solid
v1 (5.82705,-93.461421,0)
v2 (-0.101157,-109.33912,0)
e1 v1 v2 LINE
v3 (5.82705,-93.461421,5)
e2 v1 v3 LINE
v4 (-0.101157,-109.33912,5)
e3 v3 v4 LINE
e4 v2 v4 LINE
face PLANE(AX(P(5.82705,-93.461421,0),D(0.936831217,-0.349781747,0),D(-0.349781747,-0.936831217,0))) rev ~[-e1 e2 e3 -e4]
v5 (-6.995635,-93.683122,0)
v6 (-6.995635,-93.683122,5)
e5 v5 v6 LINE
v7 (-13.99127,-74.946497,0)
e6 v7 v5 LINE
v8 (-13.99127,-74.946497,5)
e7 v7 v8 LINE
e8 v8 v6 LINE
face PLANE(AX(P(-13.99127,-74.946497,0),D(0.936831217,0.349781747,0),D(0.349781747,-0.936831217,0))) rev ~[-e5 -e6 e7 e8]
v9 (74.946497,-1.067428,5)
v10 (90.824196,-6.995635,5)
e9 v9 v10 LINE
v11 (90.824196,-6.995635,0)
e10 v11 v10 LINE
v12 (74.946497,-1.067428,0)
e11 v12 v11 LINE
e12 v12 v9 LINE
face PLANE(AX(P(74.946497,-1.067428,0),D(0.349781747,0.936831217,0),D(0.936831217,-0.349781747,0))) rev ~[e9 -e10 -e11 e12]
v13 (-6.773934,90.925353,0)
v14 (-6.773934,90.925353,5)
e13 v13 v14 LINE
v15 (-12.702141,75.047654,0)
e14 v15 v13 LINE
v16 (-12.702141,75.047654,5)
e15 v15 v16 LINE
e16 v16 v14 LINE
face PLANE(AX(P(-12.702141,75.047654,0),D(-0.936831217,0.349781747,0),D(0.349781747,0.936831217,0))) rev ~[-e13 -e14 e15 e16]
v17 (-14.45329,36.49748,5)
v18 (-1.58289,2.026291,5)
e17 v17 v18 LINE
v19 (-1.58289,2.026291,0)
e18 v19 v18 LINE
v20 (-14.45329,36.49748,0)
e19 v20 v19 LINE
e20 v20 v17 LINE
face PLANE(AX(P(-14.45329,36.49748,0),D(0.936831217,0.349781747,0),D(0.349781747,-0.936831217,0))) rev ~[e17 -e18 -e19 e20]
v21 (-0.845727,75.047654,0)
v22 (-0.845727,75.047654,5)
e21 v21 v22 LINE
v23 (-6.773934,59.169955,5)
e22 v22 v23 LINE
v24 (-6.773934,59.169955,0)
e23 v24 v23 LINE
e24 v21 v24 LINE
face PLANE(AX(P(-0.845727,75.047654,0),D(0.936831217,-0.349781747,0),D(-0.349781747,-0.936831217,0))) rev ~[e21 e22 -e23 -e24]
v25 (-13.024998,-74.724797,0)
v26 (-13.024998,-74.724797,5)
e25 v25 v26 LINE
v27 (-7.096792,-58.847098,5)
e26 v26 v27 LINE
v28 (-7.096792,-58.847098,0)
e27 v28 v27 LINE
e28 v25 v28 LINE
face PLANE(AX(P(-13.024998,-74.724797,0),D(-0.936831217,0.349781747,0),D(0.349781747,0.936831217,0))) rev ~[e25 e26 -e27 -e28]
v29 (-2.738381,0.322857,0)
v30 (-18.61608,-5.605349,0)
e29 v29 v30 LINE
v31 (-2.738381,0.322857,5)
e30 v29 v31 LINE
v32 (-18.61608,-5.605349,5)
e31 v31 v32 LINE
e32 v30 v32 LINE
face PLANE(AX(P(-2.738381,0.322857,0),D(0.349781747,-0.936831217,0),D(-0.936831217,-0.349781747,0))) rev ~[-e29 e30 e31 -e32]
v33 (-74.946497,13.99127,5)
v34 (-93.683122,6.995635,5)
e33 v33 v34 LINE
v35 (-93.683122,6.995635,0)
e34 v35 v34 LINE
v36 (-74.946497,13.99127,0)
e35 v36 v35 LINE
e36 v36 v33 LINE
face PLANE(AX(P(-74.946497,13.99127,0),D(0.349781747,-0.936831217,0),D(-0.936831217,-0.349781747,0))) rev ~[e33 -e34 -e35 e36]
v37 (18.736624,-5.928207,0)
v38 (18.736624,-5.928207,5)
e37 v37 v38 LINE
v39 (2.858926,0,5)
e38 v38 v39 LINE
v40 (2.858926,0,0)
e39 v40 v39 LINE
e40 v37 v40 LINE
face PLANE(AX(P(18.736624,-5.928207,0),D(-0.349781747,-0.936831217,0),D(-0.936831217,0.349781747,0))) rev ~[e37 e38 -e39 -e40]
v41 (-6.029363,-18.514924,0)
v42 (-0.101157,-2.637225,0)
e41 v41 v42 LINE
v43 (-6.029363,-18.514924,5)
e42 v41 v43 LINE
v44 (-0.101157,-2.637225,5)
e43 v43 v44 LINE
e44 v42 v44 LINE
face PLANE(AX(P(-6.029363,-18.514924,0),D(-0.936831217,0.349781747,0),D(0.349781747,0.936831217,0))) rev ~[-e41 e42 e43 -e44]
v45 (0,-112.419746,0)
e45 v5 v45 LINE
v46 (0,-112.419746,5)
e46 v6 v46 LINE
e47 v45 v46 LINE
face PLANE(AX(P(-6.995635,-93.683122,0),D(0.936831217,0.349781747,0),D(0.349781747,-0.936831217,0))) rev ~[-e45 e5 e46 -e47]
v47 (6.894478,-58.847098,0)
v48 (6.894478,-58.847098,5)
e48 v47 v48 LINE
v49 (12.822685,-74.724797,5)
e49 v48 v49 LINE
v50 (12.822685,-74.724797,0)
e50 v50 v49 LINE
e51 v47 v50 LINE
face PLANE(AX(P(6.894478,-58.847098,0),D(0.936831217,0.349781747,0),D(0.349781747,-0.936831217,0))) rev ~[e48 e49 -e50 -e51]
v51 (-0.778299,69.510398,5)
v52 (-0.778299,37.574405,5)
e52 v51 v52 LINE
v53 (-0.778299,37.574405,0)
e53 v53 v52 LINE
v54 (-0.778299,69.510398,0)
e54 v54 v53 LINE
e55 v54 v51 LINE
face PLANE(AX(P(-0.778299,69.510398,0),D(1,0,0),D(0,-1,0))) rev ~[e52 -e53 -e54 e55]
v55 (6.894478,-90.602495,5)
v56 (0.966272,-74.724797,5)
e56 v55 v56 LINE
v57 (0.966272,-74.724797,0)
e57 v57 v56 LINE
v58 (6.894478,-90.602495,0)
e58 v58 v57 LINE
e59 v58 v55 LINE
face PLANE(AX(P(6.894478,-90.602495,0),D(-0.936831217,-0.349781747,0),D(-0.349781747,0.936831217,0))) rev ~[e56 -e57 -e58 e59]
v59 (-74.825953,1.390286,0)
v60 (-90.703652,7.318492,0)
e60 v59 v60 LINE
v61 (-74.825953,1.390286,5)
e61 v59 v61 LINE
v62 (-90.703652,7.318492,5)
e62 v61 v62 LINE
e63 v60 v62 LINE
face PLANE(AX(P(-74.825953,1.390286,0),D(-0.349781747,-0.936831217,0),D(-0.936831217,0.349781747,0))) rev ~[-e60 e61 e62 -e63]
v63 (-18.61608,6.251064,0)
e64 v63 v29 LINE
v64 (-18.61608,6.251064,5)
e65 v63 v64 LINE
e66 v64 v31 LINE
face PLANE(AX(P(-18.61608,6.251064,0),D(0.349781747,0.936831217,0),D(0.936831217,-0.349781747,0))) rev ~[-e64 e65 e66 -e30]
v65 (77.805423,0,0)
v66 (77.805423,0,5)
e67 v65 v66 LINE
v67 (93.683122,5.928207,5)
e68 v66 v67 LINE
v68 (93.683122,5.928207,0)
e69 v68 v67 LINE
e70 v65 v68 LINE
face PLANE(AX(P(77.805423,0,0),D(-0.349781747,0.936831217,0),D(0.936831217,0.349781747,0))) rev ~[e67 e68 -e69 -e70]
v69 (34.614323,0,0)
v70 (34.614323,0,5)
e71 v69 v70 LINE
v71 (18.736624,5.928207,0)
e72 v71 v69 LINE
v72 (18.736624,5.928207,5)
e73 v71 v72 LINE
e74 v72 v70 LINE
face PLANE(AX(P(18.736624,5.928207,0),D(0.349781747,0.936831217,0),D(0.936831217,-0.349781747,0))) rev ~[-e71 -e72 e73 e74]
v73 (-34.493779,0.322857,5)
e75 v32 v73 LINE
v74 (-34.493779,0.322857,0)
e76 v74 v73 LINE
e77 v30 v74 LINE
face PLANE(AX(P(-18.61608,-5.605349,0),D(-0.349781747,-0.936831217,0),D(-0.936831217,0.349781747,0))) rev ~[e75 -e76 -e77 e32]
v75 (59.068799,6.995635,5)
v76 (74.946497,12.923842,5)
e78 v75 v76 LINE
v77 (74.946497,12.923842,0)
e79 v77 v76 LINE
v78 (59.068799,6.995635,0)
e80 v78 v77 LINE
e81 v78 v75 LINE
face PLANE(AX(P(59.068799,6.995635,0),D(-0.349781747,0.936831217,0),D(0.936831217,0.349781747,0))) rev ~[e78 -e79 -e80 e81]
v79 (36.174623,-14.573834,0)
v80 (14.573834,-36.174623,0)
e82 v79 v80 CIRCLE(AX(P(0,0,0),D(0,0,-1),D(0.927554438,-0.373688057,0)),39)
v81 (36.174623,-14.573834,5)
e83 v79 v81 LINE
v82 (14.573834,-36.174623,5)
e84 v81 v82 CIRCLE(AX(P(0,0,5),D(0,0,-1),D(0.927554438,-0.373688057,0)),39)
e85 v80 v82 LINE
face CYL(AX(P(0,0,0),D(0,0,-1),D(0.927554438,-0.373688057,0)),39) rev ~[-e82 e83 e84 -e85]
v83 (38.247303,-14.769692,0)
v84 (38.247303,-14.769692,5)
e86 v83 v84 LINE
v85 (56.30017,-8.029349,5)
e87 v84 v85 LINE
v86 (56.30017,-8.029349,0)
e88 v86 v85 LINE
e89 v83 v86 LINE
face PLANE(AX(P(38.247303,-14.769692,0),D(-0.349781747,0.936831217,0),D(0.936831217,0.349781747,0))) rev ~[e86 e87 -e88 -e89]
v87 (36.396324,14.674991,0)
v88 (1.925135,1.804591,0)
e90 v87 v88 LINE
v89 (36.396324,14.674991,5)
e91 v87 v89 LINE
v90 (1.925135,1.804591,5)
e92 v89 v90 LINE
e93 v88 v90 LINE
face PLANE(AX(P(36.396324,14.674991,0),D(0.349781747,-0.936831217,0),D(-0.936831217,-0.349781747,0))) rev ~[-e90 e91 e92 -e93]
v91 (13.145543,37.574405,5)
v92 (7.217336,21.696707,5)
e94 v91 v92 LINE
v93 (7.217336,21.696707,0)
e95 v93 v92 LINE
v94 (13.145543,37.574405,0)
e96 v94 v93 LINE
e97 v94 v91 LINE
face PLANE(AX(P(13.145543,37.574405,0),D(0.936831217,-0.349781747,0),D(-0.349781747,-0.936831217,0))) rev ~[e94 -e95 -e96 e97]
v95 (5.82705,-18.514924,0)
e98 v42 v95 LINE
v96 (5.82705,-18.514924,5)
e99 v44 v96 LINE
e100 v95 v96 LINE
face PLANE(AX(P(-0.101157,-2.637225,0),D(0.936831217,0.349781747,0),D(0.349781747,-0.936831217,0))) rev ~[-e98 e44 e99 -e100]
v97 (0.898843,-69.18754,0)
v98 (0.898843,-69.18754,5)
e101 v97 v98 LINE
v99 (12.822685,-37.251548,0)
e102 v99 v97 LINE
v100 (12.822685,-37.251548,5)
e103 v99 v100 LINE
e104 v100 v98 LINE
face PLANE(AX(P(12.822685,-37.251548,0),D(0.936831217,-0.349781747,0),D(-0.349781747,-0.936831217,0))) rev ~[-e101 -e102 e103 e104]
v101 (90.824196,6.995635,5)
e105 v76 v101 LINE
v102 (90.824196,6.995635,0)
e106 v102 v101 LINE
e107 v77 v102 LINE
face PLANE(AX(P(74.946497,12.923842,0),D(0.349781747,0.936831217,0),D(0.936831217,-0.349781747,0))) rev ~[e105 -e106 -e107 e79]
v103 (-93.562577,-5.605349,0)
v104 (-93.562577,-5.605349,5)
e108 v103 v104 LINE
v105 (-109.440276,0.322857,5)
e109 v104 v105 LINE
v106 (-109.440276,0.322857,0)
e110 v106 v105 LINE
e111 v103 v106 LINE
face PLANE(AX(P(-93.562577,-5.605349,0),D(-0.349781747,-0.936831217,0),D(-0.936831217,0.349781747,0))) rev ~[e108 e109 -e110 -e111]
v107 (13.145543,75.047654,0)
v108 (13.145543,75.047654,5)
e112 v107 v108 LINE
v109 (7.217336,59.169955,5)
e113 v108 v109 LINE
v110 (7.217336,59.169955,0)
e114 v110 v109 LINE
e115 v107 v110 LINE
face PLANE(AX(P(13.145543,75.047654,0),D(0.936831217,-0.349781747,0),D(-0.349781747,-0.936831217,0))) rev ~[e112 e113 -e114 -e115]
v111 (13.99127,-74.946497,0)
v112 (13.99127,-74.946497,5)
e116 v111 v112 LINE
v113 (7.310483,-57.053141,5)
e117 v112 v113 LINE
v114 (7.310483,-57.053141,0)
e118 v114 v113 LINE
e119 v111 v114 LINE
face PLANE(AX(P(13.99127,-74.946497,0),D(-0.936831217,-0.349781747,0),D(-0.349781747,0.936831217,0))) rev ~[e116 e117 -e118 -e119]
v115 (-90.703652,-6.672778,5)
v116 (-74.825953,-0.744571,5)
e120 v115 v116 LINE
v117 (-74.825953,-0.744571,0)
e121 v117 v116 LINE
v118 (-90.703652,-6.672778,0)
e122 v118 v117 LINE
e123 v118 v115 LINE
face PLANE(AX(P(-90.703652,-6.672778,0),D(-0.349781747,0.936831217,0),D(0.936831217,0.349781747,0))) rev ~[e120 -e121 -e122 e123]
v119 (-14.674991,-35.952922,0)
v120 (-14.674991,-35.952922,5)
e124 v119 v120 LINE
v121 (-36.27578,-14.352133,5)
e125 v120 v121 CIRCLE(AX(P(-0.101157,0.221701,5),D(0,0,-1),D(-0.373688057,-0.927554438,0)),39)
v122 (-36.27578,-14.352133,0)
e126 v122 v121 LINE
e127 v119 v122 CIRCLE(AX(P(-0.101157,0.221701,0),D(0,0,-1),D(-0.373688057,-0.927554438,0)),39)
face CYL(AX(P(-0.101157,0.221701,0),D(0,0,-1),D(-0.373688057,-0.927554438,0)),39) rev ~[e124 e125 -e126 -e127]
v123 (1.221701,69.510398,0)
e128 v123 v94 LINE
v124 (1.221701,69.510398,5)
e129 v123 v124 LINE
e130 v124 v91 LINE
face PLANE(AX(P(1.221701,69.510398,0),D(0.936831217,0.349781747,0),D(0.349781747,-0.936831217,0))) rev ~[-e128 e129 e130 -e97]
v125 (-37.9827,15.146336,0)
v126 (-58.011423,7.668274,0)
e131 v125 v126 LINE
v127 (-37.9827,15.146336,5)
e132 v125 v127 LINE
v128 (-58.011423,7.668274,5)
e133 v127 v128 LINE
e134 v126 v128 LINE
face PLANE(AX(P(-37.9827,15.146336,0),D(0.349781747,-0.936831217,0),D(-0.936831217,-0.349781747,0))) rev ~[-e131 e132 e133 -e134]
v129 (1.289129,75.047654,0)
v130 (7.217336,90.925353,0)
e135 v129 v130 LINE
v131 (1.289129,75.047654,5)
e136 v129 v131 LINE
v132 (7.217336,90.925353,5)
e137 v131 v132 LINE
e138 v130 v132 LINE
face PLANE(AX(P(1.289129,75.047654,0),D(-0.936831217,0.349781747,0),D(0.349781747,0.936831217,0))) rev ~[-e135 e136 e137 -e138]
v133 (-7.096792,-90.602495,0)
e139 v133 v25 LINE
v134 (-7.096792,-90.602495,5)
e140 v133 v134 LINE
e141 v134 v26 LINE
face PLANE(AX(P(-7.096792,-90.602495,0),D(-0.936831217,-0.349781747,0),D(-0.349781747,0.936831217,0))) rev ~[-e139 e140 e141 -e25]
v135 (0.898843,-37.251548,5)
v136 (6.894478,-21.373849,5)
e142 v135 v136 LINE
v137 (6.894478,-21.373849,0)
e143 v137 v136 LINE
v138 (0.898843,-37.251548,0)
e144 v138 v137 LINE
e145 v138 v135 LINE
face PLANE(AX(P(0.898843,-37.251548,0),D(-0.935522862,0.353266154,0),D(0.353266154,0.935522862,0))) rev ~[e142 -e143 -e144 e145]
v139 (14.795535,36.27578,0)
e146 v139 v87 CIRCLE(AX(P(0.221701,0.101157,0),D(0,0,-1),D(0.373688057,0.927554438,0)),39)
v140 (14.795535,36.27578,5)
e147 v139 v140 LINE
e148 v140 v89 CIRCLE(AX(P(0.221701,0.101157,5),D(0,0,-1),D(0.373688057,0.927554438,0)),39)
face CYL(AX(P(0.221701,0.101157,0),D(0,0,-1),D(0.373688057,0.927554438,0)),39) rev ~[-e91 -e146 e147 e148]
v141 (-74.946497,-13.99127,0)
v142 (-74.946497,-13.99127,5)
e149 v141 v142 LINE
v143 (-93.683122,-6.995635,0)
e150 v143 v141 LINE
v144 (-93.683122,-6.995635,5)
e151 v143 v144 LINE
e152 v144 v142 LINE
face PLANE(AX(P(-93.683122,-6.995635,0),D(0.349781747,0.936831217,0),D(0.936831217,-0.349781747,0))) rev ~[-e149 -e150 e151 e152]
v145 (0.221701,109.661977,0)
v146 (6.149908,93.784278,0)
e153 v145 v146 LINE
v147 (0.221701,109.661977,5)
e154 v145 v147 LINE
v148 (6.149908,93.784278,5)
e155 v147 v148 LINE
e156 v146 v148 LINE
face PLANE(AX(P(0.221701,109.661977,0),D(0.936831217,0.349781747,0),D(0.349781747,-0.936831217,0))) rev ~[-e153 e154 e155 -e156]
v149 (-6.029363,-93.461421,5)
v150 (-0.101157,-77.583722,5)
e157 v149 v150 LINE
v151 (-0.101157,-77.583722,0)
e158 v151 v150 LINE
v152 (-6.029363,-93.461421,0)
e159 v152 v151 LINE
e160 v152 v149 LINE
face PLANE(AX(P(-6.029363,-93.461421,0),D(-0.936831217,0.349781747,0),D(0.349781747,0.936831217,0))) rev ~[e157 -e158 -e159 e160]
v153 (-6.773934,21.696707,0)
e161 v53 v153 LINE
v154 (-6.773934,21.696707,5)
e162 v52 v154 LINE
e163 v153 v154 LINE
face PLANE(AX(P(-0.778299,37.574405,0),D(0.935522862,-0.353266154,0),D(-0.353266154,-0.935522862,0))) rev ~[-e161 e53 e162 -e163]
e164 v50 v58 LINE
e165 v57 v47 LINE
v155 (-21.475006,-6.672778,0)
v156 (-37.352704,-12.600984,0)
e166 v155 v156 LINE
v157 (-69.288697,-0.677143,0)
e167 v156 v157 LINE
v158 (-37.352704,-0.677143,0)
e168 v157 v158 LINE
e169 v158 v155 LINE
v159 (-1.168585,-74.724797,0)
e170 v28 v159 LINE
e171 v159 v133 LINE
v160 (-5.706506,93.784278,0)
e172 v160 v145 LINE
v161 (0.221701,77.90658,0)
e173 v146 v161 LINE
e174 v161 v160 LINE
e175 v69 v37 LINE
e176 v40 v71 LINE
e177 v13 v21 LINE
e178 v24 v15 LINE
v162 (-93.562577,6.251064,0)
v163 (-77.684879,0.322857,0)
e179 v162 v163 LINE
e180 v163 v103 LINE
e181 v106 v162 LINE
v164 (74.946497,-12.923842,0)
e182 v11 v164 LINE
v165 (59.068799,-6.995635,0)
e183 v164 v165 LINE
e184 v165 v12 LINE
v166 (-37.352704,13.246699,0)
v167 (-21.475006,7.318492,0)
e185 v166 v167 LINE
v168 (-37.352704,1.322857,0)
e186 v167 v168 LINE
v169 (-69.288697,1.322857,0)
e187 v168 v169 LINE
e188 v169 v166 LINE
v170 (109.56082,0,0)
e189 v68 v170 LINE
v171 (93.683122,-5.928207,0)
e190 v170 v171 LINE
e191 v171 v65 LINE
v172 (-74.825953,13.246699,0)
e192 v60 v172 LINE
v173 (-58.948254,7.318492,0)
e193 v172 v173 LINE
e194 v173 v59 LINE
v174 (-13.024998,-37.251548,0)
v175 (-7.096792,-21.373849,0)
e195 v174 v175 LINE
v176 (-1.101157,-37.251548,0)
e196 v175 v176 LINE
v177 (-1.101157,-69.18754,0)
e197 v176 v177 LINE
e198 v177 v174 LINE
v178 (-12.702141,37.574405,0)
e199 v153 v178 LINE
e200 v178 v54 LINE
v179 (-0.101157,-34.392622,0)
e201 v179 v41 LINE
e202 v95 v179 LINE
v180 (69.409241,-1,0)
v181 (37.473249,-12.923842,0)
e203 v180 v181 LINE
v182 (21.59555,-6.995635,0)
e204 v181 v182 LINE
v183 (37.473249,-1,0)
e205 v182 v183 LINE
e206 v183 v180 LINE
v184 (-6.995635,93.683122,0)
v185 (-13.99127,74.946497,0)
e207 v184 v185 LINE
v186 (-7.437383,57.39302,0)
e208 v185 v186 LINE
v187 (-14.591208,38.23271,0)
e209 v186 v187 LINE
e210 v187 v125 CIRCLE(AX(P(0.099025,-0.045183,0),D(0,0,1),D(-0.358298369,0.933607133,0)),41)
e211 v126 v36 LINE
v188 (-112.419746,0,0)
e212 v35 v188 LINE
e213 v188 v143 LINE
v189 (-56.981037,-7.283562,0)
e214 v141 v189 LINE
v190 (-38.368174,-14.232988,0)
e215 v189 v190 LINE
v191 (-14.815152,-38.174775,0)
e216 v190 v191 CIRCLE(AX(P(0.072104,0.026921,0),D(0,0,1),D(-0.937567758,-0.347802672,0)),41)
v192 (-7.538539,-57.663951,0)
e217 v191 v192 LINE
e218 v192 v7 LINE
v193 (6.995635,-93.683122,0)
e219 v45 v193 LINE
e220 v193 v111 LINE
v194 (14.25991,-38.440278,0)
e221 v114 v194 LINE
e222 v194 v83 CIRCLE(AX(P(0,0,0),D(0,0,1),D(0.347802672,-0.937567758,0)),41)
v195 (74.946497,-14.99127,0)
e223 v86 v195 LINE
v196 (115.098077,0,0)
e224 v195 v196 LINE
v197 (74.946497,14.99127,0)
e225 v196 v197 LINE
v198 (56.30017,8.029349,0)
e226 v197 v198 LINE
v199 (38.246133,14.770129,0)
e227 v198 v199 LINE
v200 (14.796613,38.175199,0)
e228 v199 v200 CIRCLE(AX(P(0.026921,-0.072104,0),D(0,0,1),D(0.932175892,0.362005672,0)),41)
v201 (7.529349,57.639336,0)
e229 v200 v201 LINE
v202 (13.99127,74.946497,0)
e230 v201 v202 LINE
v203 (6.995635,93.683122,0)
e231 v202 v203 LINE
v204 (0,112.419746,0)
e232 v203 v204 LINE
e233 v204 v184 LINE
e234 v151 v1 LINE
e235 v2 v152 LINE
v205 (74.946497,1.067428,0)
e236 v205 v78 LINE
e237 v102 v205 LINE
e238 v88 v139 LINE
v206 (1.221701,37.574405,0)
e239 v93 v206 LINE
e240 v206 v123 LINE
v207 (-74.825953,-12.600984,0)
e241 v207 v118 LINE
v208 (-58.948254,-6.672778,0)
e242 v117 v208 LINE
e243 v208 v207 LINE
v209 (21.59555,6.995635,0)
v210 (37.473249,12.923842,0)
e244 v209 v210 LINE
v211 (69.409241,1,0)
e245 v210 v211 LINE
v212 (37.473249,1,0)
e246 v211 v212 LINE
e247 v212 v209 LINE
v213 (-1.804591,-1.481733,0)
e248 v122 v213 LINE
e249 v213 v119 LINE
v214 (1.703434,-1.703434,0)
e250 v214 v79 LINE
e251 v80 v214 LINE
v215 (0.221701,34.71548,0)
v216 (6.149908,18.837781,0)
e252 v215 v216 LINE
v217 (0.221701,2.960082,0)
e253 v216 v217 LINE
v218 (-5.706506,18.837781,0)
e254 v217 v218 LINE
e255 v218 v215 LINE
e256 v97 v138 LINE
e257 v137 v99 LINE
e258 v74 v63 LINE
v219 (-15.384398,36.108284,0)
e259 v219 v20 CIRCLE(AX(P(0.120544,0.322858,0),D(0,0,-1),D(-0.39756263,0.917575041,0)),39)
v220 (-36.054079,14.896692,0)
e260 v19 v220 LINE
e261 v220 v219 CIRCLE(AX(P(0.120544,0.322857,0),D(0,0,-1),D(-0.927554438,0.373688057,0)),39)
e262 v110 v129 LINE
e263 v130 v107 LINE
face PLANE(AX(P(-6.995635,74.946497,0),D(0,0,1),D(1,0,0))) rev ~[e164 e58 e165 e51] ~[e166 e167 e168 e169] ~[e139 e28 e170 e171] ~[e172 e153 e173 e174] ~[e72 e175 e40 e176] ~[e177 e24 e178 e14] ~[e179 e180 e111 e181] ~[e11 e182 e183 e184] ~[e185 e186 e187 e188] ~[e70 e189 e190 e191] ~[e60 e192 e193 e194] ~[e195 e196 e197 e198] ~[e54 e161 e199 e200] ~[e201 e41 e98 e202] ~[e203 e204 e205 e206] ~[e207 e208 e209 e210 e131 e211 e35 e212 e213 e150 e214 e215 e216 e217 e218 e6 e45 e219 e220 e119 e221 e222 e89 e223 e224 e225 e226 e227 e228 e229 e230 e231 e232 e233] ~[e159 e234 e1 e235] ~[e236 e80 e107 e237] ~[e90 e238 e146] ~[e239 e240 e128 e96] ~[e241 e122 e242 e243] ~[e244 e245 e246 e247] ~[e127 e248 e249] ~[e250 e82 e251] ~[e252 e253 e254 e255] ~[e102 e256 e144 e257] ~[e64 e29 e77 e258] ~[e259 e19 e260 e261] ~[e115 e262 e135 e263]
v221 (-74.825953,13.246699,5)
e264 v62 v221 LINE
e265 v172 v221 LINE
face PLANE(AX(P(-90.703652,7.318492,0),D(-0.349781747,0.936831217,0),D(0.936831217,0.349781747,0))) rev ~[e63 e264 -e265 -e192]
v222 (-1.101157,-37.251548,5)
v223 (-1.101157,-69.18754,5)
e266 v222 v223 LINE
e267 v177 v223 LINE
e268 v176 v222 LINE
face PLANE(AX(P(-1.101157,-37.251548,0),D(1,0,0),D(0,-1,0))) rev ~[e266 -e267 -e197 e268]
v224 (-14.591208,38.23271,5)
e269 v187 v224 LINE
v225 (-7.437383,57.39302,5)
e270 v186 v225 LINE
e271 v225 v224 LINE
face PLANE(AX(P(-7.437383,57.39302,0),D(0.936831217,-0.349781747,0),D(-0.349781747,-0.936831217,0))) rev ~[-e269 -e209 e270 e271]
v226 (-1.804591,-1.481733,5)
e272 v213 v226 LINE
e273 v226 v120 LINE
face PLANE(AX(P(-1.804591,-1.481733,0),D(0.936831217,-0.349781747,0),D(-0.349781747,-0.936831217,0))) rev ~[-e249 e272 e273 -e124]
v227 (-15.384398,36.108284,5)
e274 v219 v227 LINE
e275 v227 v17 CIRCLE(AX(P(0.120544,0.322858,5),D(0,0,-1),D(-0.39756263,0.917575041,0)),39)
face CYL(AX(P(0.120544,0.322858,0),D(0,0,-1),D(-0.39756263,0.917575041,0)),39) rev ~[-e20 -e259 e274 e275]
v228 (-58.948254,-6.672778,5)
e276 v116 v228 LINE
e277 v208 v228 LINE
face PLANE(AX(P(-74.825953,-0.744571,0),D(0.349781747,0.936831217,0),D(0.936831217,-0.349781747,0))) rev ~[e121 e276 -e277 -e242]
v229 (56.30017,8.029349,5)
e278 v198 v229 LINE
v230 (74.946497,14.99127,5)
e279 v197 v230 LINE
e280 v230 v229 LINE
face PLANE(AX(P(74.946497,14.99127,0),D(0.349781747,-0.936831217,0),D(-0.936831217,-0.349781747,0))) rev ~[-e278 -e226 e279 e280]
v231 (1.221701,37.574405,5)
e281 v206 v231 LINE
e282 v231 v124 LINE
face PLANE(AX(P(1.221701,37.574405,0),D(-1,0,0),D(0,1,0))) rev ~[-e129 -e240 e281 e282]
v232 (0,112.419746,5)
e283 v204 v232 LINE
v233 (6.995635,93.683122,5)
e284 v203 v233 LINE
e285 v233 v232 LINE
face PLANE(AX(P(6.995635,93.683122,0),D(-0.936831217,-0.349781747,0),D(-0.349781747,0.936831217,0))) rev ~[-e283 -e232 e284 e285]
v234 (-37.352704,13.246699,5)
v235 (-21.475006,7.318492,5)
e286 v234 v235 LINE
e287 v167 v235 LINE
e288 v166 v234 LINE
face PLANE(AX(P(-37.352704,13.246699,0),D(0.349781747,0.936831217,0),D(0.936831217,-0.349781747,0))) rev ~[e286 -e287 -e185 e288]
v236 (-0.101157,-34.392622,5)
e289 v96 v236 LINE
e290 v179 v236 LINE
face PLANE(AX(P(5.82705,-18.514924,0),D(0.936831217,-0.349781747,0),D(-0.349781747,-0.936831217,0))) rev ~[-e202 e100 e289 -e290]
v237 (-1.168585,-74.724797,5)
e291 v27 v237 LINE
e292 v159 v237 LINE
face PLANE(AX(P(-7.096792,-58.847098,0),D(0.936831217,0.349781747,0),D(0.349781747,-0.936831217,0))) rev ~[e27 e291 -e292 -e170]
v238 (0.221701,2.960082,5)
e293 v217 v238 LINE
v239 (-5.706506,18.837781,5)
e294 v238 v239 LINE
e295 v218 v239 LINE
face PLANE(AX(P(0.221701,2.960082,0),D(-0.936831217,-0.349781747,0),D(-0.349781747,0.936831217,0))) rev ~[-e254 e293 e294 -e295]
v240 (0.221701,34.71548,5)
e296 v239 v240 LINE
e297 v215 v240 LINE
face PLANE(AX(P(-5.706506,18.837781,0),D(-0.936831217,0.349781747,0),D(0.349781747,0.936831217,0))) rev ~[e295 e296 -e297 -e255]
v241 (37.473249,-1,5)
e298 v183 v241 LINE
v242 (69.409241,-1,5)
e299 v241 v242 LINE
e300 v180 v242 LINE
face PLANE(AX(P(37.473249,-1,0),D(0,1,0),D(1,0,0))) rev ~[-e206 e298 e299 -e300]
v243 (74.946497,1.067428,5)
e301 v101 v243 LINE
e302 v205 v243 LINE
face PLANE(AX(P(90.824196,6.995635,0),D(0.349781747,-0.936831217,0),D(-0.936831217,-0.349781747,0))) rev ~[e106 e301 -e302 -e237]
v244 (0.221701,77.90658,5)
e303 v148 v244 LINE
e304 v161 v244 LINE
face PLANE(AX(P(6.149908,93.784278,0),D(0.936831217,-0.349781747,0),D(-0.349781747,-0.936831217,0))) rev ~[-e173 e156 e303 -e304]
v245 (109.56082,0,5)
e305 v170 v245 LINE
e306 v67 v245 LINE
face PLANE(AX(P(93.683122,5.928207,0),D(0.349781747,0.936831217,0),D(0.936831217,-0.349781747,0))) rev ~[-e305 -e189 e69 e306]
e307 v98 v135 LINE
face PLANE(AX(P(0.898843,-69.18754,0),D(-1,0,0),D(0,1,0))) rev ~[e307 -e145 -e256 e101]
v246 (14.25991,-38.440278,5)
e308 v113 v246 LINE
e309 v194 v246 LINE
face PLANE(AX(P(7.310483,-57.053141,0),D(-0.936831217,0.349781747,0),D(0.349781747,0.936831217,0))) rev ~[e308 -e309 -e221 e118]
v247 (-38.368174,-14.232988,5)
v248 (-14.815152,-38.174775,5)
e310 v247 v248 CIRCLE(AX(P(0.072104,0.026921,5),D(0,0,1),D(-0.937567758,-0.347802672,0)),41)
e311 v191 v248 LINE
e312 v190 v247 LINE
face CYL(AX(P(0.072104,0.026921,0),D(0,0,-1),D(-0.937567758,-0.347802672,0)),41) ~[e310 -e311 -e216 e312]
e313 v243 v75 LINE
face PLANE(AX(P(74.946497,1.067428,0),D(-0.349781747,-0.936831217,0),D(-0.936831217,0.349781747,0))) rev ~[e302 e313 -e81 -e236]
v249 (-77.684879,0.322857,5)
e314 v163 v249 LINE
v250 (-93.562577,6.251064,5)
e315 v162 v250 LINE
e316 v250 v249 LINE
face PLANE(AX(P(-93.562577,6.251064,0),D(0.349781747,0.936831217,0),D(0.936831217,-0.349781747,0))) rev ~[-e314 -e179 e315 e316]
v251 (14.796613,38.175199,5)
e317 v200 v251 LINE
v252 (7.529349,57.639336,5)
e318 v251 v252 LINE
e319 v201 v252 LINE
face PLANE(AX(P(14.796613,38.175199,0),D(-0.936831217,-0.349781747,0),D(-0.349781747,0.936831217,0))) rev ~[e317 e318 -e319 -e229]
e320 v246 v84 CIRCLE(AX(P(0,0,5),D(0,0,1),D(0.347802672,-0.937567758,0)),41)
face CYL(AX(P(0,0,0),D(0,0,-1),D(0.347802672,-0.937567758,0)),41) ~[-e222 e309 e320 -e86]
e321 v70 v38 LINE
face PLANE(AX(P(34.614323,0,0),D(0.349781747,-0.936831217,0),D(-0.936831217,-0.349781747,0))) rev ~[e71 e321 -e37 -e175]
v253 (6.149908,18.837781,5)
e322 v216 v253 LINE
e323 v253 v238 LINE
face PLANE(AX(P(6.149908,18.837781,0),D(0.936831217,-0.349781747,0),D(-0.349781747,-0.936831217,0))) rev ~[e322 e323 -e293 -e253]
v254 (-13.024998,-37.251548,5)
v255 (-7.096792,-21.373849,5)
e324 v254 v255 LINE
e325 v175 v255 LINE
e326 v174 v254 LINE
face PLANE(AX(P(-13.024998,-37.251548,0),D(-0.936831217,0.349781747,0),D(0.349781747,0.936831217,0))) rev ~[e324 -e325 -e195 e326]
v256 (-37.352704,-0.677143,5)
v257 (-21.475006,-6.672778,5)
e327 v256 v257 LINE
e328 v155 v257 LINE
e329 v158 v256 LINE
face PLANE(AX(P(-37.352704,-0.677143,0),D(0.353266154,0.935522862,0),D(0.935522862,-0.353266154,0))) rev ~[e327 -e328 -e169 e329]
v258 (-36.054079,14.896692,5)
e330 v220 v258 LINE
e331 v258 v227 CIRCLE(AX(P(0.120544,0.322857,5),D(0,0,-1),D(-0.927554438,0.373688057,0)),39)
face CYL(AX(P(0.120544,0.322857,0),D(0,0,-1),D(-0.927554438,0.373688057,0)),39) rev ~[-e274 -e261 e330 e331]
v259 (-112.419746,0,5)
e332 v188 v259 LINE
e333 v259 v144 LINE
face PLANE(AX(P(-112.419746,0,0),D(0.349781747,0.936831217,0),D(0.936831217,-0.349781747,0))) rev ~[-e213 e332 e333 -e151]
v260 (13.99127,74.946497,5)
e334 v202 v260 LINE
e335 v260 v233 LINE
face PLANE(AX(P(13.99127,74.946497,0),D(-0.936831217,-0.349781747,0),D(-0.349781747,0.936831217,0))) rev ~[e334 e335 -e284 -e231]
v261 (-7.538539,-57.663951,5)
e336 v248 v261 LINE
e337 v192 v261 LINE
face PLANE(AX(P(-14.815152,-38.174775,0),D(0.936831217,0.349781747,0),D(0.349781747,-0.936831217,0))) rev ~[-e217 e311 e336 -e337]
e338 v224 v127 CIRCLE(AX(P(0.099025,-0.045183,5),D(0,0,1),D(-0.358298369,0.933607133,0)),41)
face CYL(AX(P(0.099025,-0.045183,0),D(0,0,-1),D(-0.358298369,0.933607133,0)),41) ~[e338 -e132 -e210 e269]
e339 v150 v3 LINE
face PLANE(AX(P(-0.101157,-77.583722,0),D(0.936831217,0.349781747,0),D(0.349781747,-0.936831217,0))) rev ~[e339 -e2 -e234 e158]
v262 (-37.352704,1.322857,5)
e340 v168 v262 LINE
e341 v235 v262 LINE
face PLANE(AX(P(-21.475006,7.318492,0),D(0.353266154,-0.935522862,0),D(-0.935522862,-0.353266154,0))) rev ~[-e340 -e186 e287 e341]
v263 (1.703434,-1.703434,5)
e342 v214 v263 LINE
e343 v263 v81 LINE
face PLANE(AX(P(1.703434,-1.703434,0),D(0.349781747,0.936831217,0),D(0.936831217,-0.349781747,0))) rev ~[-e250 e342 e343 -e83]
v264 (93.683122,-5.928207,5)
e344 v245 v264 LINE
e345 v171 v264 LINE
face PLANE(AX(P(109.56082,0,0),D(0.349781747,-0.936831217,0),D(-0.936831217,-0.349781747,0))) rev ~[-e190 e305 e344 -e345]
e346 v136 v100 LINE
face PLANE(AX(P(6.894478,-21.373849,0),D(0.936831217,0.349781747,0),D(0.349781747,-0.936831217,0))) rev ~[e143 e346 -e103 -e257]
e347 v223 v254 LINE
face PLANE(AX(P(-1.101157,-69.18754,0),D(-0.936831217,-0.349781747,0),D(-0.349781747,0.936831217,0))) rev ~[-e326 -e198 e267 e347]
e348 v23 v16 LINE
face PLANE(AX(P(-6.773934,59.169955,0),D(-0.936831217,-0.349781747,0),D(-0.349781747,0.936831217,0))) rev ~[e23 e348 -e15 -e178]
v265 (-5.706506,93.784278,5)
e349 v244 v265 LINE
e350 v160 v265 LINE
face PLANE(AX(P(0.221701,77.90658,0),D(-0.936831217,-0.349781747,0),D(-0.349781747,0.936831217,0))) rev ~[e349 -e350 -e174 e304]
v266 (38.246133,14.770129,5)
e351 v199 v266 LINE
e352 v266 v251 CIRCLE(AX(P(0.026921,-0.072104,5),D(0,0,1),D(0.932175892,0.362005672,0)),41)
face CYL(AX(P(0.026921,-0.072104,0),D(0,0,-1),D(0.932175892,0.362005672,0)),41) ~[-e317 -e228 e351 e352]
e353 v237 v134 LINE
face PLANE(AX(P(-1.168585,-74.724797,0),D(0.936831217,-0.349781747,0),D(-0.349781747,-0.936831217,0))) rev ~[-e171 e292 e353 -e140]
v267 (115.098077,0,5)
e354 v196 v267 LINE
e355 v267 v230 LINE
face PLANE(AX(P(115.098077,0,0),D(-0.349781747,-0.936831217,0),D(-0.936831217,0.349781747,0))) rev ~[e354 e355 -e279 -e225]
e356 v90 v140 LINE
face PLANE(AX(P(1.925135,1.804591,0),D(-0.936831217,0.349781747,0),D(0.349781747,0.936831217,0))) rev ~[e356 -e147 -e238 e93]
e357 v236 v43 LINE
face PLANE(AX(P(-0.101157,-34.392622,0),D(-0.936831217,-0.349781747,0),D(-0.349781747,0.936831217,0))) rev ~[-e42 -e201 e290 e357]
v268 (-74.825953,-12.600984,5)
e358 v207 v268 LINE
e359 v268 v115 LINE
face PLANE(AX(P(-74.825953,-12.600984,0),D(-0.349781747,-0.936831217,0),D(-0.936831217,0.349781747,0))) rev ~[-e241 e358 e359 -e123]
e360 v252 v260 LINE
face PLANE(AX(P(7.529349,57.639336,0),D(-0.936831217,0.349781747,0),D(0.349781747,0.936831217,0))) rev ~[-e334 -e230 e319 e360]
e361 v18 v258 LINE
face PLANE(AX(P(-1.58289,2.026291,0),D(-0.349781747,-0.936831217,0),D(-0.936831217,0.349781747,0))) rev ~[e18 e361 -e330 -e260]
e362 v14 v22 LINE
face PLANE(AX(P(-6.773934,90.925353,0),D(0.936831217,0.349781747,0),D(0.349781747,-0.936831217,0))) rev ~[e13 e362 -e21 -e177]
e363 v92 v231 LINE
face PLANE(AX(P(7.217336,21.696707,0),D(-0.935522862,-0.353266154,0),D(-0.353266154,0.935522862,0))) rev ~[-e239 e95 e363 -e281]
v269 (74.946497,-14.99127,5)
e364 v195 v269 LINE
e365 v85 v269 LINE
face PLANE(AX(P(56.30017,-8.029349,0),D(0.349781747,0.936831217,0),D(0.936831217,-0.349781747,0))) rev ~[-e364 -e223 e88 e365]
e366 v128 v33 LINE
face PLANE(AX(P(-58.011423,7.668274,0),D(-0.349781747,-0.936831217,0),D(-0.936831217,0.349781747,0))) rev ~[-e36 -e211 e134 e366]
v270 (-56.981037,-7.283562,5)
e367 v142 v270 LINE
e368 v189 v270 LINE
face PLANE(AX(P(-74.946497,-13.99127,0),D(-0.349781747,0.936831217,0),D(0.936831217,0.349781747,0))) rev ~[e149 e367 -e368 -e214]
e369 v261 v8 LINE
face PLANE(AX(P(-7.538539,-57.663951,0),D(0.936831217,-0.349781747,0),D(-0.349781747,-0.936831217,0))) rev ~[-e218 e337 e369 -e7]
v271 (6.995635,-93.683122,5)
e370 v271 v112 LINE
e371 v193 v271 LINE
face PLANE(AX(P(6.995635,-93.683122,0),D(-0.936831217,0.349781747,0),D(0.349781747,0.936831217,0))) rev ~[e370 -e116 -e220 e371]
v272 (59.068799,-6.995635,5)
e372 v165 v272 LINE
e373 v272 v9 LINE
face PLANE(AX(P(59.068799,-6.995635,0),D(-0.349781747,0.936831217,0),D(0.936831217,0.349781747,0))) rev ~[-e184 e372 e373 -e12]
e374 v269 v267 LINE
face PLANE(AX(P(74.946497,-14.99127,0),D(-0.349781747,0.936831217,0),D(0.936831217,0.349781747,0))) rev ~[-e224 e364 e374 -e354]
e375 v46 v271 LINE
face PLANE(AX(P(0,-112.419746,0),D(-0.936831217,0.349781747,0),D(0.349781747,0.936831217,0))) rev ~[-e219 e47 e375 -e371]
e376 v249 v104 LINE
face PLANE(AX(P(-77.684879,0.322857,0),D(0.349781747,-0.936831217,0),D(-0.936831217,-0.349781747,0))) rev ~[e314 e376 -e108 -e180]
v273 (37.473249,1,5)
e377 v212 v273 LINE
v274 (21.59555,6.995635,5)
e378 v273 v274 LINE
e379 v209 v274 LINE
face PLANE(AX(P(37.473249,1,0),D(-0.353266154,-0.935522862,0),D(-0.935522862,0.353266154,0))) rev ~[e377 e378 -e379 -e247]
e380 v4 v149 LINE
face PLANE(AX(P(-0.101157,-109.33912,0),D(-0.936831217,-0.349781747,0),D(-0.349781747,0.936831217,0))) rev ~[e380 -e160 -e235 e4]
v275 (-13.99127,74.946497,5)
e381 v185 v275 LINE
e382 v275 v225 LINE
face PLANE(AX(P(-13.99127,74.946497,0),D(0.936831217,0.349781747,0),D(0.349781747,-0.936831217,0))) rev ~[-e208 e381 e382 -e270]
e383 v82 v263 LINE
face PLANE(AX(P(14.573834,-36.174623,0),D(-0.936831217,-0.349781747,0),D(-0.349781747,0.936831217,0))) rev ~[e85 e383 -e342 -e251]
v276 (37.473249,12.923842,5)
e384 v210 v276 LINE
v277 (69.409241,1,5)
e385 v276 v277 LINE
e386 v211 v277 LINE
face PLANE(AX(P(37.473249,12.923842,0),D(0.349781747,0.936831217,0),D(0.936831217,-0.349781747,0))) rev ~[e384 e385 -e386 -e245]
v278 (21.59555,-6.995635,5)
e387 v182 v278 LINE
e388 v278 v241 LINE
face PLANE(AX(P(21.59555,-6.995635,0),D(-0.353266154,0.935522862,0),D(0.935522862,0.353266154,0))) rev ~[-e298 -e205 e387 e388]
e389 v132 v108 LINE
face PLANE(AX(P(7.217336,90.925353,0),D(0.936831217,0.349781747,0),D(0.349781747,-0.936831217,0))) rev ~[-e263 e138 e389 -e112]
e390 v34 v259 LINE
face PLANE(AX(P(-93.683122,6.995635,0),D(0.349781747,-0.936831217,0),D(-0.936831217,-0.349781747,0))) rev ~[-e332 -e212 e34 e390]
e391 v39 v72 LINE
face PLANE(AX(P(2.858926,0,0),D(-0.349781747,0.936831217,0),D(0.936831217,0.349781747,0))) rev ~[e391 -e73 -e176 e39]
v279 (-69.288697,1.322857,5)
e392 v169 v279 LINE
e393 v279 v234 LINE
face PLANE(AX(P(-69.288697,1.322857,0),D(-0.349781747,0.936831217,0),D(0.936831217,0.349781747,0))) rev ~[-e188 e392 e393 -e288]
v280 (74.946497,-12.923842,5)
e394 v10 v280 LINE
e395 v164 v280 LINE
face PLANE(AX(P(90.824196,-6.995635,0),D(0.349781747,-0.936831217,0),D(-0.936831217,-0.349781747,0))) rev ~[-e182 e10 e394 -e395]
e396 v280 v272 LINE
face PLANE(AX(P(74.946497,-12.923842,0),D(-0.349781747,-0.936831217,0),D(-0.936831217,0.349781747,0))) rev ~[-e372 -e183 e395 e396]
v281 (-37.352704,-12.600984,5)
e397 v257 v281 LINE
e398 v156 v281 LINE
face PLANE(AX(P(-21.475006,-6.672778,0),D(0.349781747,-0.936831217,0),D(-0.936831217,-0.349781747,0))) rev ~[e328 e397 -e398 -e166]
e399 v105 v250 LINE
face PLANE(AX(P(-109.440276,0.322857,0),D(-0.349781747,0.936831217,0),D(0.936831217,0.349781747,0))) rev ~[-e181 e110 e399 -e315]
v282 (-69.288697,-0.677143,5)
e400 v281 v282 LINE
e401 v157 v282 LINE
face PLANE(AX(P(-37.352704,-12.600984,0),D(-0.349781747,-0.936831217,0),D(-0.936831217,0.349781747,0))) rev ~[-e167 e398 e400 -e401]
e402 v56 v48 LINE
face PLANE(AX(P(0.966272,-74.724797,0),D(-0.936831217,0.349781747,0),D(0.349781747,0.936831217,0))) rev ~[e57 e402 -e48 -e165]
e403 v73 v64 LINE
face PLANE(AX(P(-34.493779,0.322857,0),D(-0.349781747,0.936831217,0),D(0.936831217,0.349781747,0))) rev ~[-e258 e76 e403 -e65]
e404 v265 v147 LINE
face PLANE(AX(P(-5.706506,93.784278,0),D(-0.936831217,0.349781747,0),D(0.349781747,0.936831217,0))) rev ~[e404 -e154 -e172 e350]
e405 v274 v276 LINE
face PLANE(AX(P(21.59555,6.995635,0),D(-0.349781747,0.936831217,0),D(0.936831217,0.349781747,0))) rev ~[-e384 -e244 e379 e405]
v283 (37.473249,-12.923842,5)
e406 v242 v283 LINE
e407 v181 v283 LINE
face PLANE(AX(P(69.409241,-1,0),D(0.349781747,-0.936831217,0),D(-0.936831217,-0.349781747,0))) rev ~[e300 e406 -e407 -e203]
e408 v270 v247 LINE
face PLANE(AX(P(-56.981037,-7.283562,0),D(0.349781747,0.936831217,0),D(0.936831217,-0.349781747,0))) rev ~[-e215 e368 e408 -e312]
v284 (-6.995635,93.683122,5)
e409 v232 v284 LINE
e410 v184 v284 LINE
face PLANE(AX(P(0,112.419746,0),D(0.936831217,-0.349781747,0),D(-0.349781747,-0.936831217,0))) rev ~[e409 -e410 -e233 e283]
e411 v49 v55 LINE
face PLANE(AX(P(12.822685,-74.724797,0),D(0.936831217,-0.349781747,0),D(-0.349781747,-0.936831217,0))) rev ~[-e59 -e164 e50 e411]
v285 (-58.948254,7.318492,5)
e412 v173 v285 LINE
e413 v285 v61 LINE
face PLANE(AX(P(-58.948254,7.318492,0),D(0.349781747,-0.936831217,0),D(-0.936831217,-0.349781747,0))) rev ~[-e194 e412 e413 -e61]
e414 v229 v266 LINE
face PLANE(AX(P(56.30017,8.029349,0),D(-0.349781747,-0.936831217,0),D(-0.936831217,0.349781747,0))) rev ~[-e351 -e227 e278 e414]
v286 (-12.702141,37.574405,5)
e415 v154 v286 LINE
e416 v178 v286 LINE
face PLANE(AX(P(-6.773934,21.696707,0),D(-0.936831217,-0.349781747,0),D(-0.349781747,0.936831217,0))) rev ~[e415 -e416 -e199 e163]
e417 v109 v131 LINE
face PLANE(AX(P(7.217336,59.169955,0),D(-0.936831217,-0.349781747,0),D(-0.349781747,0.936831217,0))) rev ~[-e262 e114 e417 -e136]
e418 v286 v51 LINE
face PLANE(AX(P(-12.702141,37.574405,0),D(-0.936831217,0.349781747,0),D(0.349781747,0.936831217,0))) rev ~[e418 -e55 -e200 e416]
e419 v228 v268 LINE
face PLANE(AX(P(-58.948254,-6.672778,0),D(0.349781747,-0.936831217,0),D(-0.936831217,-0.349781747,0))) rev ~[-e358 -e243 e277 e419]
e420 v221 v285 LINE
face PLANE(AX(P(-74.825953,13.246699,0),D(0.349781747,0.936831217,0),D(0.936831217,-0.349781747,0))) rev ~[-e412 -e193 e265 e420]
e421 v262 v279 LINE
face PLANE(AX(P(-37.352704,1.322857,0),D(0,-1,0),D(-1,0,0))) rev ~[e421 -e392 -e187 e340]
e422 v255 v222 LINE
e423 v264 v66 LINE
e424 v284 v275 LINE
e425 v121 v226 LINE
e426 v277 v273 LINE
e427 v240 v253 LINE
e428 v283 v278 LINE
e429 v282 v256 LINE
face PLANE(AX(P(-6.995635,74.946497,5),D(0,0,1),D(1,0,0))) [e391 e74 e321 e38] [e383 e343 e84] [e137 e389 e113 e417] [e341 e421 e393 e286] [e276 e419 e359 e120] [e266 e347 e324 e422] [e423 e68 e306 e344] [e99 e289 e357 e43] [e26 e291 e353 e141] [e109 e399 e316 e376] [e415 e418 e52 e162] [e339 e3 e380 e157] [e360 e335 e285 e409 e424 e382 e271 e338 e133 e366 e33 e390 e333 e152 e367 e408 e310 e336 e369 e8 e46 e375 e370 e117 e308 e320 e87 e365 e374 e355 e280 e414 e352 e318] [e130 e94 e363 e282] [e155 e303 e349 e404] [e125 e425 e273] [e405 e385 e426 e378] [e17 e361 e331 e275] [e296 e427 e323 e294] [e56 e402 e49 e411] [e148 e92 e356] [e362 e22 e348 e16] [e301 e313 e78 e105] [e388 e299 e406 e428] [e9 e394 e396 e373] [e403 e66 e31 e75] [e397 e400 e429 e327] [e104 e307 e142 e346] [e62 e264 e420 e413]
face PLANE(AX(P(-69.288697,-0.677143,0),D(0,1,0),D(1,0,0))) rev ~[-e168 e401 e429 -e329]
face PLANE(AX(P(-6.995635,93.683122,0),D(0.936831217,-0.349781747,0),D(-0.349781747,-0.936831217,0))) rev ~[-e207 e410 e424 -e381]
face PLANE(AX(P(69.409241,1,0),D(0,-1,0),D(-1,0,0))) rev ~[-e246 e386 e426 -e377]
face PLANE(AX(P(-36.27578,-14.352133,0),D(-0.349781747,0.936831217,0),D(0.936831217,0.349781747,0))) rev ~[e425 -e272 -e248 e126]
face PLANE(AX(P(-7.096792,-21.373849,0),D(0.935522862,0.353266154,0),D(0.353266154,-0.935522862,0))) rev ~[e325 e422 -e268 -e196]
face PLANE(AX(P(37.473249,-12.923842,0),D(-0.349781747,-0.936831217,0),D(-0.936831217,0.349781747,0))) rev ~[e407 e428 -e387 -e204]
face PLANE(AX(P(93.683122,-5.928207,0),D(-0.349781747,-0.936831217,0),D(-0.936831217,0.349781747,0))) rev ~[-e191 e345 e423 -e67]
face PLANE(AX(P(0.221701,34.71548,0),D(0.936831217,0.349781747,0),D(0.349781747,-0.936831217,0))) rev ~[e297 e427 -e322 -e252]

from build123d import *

# Parameters (mm, degrees)
F1_DEPTH = 5


with BuildPart() as f1:
    # F0 (on Top) → F1 (new body)
    with BuildSketch(Plane.XY):
        Polygon((-7.4373828532, 57.3930200385), (-6.9956349455, 56.209873024), (0, 74.9464973654), (-6.9956349455, 93.6831217067), (-13.9912698911, 74.9464973654), align=None)
        Polygon((-0.8457273018, 75.0476539377), (-6.7739341111, 59.16995522), (-12.7021409204, 75.0476539377), (-6.7739341111, 90.9253526553), align=None, mode=Mode.SUBTRACT)
        Polygon((-6.9956349455, 93.6831217067), (0, 74.9464973654), (6.9956349455, 93.6831217067), (0, 112.4197460481), align=None)
        Polygon((0.2217008345, 109.6619769966), (6.1499076438, 93.784278279), (0.2217008345, 77.9065795614), (-5.7065059748, 93.784278279), align=None, mode=Mode.SUBTRACT)
        Polygon((6.9956349455, 93.6831217067), (0, 74.9464973654), (6.9956349455, 56.209873024), (7.5293490137, 57.6393358359), (13.9912698911, 74.9464973654), align=None)
        Polygon((7.21733578, 90.9253526553), (13.1455425893, 75.0476539377), (7.21733578, 59.16995522), (1.2891289707, 75.0476539377), align=None, mode=Mode.SUBTRACT)
        Polygon((0, 37.4732486827), (6.9956349455, 18.7366243413), (13.9912698911, 37.4732486827), (6.9956349455, 56.209873024), (0, 74.9464973654), align=None)
        Polygon((7.21733578, 21.6967065374), (1.2217008345, 37.574405255), (1.2217008345, 69.5103975424), (13.1455425893, 37.574405255), align=None, mode=Mode.SUBTRACT)
        Polygon((-13.9912698911, 37.4732486827), (-6.9956349455, 18.7366243413), (0, 37.4732486827), (0, 74.9464973654), (-6.9956349455, 56.209873024), align=None)
        Polygon((-0.7782991655, 37.574405255), (-6.7739341111, 21.6967065374), (-12.7021409204, 37.574405255), (-0.7782991655, 69.5103975424), align=None, mode=Mode.SUBTRACT)
        Polygon((-6.9956349455, 18.7366243413), (0, 0), (6.9956349455, 18.7366243413), (0, 37.4732486827), align=None)
        Polygon((0.2217008345, 2.960082196), (-5.7065059748, 18.8377809136), (0.2217008345, 34.7154796313), (6.1499076438, 18.8377809136), align=None, mode=Mode.SUBTRACT)
        with BuildLine():
            Line((6.9956349455, 18.7366243413), (0, 0))
            Line((0, 0), (18.7366243413, 6.9956349455))
            Line((18.7366243413, 6.9956349455), (37.4732486827, 13.9912698911))
            ThreePointArc((37.4732486827, 13.9912698911), (28.2842712475, 28.2842712475), (13.9912698911, 37.4732486827))
            Line((13.9912698911, 37.4732486827), (6.9956349455, 18.7366243413))
        make_face()
        with BuildLine():
            Line((1.9251347893, 1.8045905271), (14.7955350767, 36.2757796592))
            ThreePointArc((14.7955350767, 36.2757796592), (27.7988653008, 27.6783210386), (36.3963239214, 14.6749908145))
            Line((36.3963239214, 14.6749908145), (1.9251347893, 1.8045905271))
        make_face(mode=Mode.SUBTRACT)
        with BuildLine():
            Line((6.9956349455, 56.209873024), (13.9912698911, 37.4732486827))
            ThreePointArc((13.9912698911, 37.4732486827), (28.2842712475, 28.2842712475), (37.4732486827, 13.9912698911))
            Line((37.4732486827, 13.9912698911), (56.209873024, 6.9956349455))
            Line((56.209873024, 6.9956349455), (57.6393358359, 7.5293490137))
            Line((57.6393358359, 7.5293490137), (56.3001704501, 8.0293490137))
            Line((56.3001704501, 8.0293490137), (38.2461327523, 14.7701287147))
            ThreePointArc((38.2461327523, 14.7701287147), (28.9907831637, 28.9467641394), (14.7966128721, 38.1751994187))
            Line((14.7966128721, 38.1751994187), (7.5293490137, 57.6393358359))
            Line((7.5293490137, 57.6393358359), (6.9956349455, 56.209873024))
        make_face()
        with BuildLine():
            Line((-56.209873024, 6.9956349455), (-37.4732486827, 13.9912698911))
            ThreePointArc((-37.4732486827, 13.9912698911), (-28.6737428311, 27.8893612701), (-15.0250008461, 37.0708692854))
            Line((-15.0250008461, 37.0708692854), (-14.5912080836, 38.2327097895))
            ThreePointArc((-14.5912080836, 38.2327097895), (-28.7014097963, 29.1358891634), (-37.9826996881, 15.1463360675))
            Line((-37.9826996881, 15.1463360675), (-58.0114231685, 7.6682740996))
            Line((-58.0114231685, 7.6682740996), (-56.209873024, 6.9956349455))
        make_face()
        with BuildLine():
            ThreePointArc((-15.0250008461, 37.0708692854), (-14.5095302876, 37.2756425945), (-13.9912698911, 37.4732486827))
            Line((-13.9912698911, 37.4732486827), (-6.9956349455, 56.209873024))
            Line((-6.9956349455, 56.209873024), (-7.4373828532, 57.3930200385))
            Line((-7.4373828532, 57.3930200385), (-14.5912080836, 38.2327097895))
            Line((-14.5912080836, 38.2327097895), (-15.0250008461, 37.0708692854))
        make_face()
        with BuildLine():
            Line((-18.7366243413, 6.9956349455), (0, 0))
            Line((0, 0), (-6.9956349455, 18.7366243413))
            Line((-6.9956349455, 18.7366243413), (-13.9912698911, 37.4732486827))
            ThreePointArc((-13.9912698911, 37.4732486827), (-14.5095302876, 37.2756425945), (-15.0250008461, 37.0708692854))
            ThreePointArc((-15.0250008461, 37.0708692854), (-28.6737428311, 27.8893612701), (-37.4732486827, 13.9912698911))
            Line((-37.4732486827, 13.9912698911), (-18.7366243413, 6.9956349455))
        make_face()
        with BuildLine():
            ThreePointArc((-36.0540788247, 14.896691649), (-27.8111096303, 27.5409159494), (-15.3843983132, 36.1082839898))
            ThreePointArc((-15.3843983132, 36.1082839898), (-14.9201030706, 36.3058940742), (-14.45328998, 36.4974804937))
            Line((-14.45328998, 36.4974804937), (-1.5828896926, 2.0262913616))
            Line((-1.5828896926, 2.0262913616), (-36.0540788247, 14.896691649))
        make_face(mode=Mode.SUBTRACT)
        Polygon((37.4732486827, 13.9912698911), (18.7366243413, 6.9956349455), (37.4732486827, 0), (74.9464973654, 0), (56.209873024, 6.9956349455), align=None)
        Polygon((37.4732486827, 1), (21.5955499651, 6.9956349455), (37.4732486827, 12.9238417549), (69.4092409701, 1), align=None, mode=Mode.SUBTRACT)
        Polygon((18.7366243413, 6.9956349455), (0, 0), (18.7366243413, -6.9956349455), (37.4732486827, 0), align=None)
        Polygon((18.7366243413, -5.9282068093), (2.8589256237, 0), (18.7366243413, 5.9282068093), (34.614323059, 0), align=None, mode=Mode.SUBTRACT)
        Polygon((56.209873024, 6.9956349455), (74.9464973654, 0), (93.6831217067, 6.9956349455), (74.9464973654, 13.9912698911), (57.6393358359, 7.5293490137), align=None)
        Polygon((74.9464973654, 1.0674281362), (59.0687986478, 6.9956349455), (74.9464973654, 12.9238417549), (90.824196083, 6.9956349455), align=None, mode=Mode.SUBTRACT)
        Polygon((93.6831217067, 6.9956349455), (74.9464973654, 0), (93.6831217067, -6.9956349455), (112.4197460481, 0), align=None)
        Polygon((93.6831217067, -5.9282068093), (77.8054229891, 0), (93.6831217067, 5.9282068093), (109.5608204243, 0), align=None, mode=Mode.SUBTRACT)
        Polygon((93.6831217067, -6.9956349455), (74.9464973654, 0), (56.209873024, -6.9956349455), (57.6393358359, -7.5293490137), (74.9464973654, -13.9912698911), align=None)
        Polygon((74.9464973654, -12.9238417549), (59.0687986478, -6.9956349455), (74.9464973654, -1.0674281362), (90.824196083, -6.9956349455), align=None, mode=Mode.SUBTRACT)
        Polygon((37.4732486827, 0), (18.7366243413, -6.9956349455), (37.4732486827, -13.9912698911), (56.209873024, -6.9956349455), (74.9464973654, 0), align=None)
        Polygon((37.4732486827, -1), (69.4092409701, -1), (37.4732486827, -12.9238417549), (21.5955499651, -6.9956349455), align=None, mode=Mode.SUBTRACT)
        with BuildLine():
            ThreePointArc((37.4732486827, -13.9912698911), (28.2842712475, -28.2842712475), (13.9912698911, -37.4732486827))
            Line((13.9912698911, -37.4732486827), (6.9956349455, -56.209873024))
            Line((6.9956349455, -56.209873024), (7.310483144, -57.0531406424))
            Line((7.310483144, -57.0531406424), (14.2599095347, -38.4402780956))
            ThreePointArc((14.2599095347, -38.4402780956), (28.7980210171, -29.1834539679), (38.2473032728, -14.7696916812))
            Line((38.2473032728, -14.7696916812), (56.3001704501, -8.0293490137))
            Line((56.3001704501, -8.0293490137), (57.6393358359, -7.5293490137))
            Line((57.6393358359, -7.5293490137), (56.209873024, -6.9956349455))
            Line((56.209873024, -6.9956349455), (37.4732486827, -13.9912698911))
        make_face()
        with BuildLine():
            Line((18.7366243413, -6.9956349455), (0, 0))
            Line((0, 0), (6.9956349455, -18.7366243413))
            Line((6.9956349455, -18.7366243413), (13.9912698911, -37.4732486827))
            ThreePointArc((13.9912698911, -37.4732486827), (28.2842712475, -28.2842712475), (37.4732486827, -13.9912698911))
            Line((37.4732486827, -13.9912698911), (18.7366243413, -6.9956349455))
        make_face()
        with BuildLine():
            Line((14.5738342422, -36.1746230869), (1.7034339548, -1.7034339548))
            Line((1.7034339548, -1.7034339548), (36.1746230869, -14.5738342422))
            ThreePointArc((36.1746230869, -14.5738342422), (27.5771644663, -27.5771644663), (14.5738342422, -36.1746230869))
        make_face(mode=Mode.SUBTRACT)
        Polygon((-18.7366243413, -6.9956349455), (0, 0), (-18.7366243413, 6.9956349455), (-37.4732486827, 0), align=None)
        Polygon((-2.7383813615, 0.3228574068), (-18.6160800791, -5.6053494025), (-34.4937787968, 0.3228574068), (-18.6160800791, 6.2510642161), align=None, mode=Mode.SUBTRACT)
        Polygon((-37.4732486827, 0), (-18.7366243413, 6.9956349455), (-37.4732486827, 13.9912698911), (-56.209873024, 6.9956349455), (-74.9464973654, 0), align=None)
        Polygon((-21.4750057029, 7.3184923523), (-37.3527044205, 1.3228574068), (-69.2886967079, 1.3228574068), (-37.3527044205, 13.2466991616), align=None, mode=Mode.SUBTRACT)
        Polygon((-37.4732486827, -13.9912698911), (-18.7366243413, -6.9956349455), (-37.4732486827, 0), (-74.9464973654, 0), (-56.209873024, -6.9956349455), align=None)
        Polygon((-37.3527044205, -0.6771425932), (-21.4750057029, -6.6727775388), (-37.3527044205, -12.6009843481), (-69.2886967079, -0.6771425932), align=None, mode=Mode.SUBTRACT)
        with BuildLine():
            Line((-6.9956349455, -18.7366243413), (0, 0))
            Line((0, 0), (-18.7366243413, -6.9956349455))
            Line((-18.7366243413, -6.9956349455), (-37.4732486827, -13.9912698911))
            ThreePointArc((-37.4732486827, -13.9912698911), (-37.3458271608, -14.3279165853), (-37.2153813915, -14.6634030117))
            ThreePointArc((-37.2153813915, -14.6634030117), (-28.0286023337, -28.5376497144), (-13.9912698911, -37.4732486827))
            Line((-13.9912698911, -37.4732486827), (-6.9956349455, -18.7366243413))
        make_face()
        with BuildLine():
            Line((-1.8045905271, -1.4817331203), (-14.6749908145, -35.9529222524))
            ThreePointArc((-14.6749908145, -35.9529222524), (-27.6783210386, -27.3554636318), (-36.2757796592, -14.3521334077))
            Line((-36.2757796592, -14.3521334077), (-1.8045905271, -1.4817331203))
        make_face(mode=Mode.SUBTRACT)
        Polygon((6.9956349455, -18.7366243413), (0, 0), (-6.9956349455, -18.7366243413), (0, -37.4732486827), align=None)
        Polygon((-0.1011565723, -2.6372247892), (5.827050237, -18.5149235069), (-0.1011565723, -34.3926222245), (-6.0293633816, -18.5149235069), align=None, mode=Mode.SUBTRACT)
        Polygon((-56.209873024, -6.9956349455), (-74.9464973654, 0), (-93.6831217067, -6.9956349455), (-74.9464973654, -13.9912698911), (-56.9810367882, -7.2835619531), align=None)
        Polygon((-74.8259531032, -12.6009843481), (-90.7036518208, -6.6727775388), (-74.8259531032, -0.7445707295), (-58.9482543856, -6.6727775388), align=None, mode=Mode.SUBTRACT)
        Polygon((-93.6831217067, 6.9956349455), (-74.9464973654, 0), (-56.209873024, 6.9956349455), (-58.0114231685, 7.6682740996), (-74.9464973654, 13.9912698911), align=None)
        Polygon((-90.7036518208, 7.3184923523), (-74.8259531032, 13.2466991616), (-58.9482543856, 7.3184923523), (-74.8259531032, 1.390285543), align=None, mode=Mode.SUBTRACT)
        Polygon((-93.6831217067, -6.9956349455), (-74.9464973654, 0), (-93.6831217067, 6.9956349455), (-112.4197460481, 0), align=None)
        Polygon((-109.4402761622, 0.3228574068), (-93.5625774445, 6.2510642161), (-77.6848787269, 0.3228574068), (-93.5625774445, -5.6053494025), align=None, mode=Mode.SUBTRACT)
        with BuildLine():
            Line((-6.9956349455, -56.209873024), (-13.9912698911, -37.4732486827))
            ThreePointArc((-13.9912698911, -37.4732486827), (-28.0286023337, -28.5376497144), (-37.2153813915, -14.6634030117))
            Line((-37.2153813915, -14.6634030117), (-38.3681742414, -14.2329883437))
            ThreePointArc((-38.3681742414, -14.2329883437), (-29.1556015148, -28.7261871431), (-14.8151520653, -38.1747752529))
            Line((-14.8151520653, -38.1747752529), (-7.5385394255, -57.6639507988))
            Line((-7.5385394255, -57.6639507988), (-6.9956349455, -56.209873024))
        make_face()
        with BuildLine():
            ThreePointArc((-37.2153813915, -14.6634030117), (-37.3458271608, -14.3279165853), (-37.4732486827, -13.9912698911))
            Line((-37.4732486827, -13.9912698911), (-56.209873024, -6.9956349455))
            Line((-56.209873024, -6.9956349455), (-56.9810367882, -7.2835619531))
            Line((-56.9810367882, -7.2835619531), (-38.3681742414, -14.2329883437))
            Line((-38.3681742414, -14.2329883437), (-37.2153813915, -14.6634030117))
        make_face()
        Polygon((13.9912698911, -37.4732486827), (6.9956349455, -18.7366243413), (0, -37.4732486827), (0, -74.9464973654), (6.9956349455, -56.209873024), align=None)
        Polygon((0.8988434277, -37.2515478482), (6.8944783733, -21.3738491306), (12.8226851826, -37.2515478482), (0.8988434277, -69.1875401356), align=None, mode=Mode.SUBTRACT)
        Polygon((0, -37.4732486827), (-6.9956349455, -18.7366243413), (-13.9912698911, -37.4732486827), (-6.9956349455, -56.209873024), (0, -74.9464973654), align=None)
        Polygon((-7.0967915178, -21.3738491306), (-1.1011565723, -37.2515478482), (-1.1011565723, -69.1875401356), (-13.0249983271, -37.2515478482), align=None, mode=Mode.SUBTRACT)
        Polygon((-6.9956349455, -93.6831217067), (0, -74.9464973654), (-6.9956349455, -56.209873024), (-7.5385394255, -57.6639507988), (-13.9912698911, -74.9464973654), align=None)
        Polygon((-13.0249983271, -74.7247965309), (-7.0967915178, -58.8470978133), (-1.1685847085, -74.7247965309), (-7.0967915178, -90.6024952485), align=None, mode=Mode.SUBTRACT)
        Polygon((6.9956349455, -56.209873024), (0, -74.9464973654), (6.9956349455, -93.6831217067), (13.9912698911, -74.9464973654), (7.310483144, -57.0531406424), align=None)
        Polygon((12.8226851826, -74.7247965309), (6.8944783733, -90.6024952485), (0.9662715639, -74.7247965309), (6.8944783733, -58.8470978133), align=None, mode=Mode.SUBTRACT)
        Polygon((6.9956349455, -93.6831217067), (0, -74.9464973654), (-6.9956349455, -93.6831217067), (0, -112.4197460481), align=None)
        Polygon((-0.1011565723, -109.3391195899), (-6.0293633816, -93.4614208722), (-0.1011565723, -77.5837221546), (5.827050237, -93.4614208722), align=None, mode=Mode.SUBTRACT)
        Polygon((112.4197460481, 0), (93.6831217067, -6.9956349455), (74.9464973654, -13.9912698911), (57.6393358359, -7.5293490137), (56.3001704501, -8.0293490137), (74.9464973654, -14.9912698911), (115.0980768196, 0), (74.9464973654, 14.9912698911), (56.3001704501, 8.0293490137), (57.6393358359, 7.5293490137), (74.9464973654, 13.9912698911), (93.6831217067, 6.9956349455), align=None)
    extrude(amount=F1_DEPTH)


solid = f1.part
